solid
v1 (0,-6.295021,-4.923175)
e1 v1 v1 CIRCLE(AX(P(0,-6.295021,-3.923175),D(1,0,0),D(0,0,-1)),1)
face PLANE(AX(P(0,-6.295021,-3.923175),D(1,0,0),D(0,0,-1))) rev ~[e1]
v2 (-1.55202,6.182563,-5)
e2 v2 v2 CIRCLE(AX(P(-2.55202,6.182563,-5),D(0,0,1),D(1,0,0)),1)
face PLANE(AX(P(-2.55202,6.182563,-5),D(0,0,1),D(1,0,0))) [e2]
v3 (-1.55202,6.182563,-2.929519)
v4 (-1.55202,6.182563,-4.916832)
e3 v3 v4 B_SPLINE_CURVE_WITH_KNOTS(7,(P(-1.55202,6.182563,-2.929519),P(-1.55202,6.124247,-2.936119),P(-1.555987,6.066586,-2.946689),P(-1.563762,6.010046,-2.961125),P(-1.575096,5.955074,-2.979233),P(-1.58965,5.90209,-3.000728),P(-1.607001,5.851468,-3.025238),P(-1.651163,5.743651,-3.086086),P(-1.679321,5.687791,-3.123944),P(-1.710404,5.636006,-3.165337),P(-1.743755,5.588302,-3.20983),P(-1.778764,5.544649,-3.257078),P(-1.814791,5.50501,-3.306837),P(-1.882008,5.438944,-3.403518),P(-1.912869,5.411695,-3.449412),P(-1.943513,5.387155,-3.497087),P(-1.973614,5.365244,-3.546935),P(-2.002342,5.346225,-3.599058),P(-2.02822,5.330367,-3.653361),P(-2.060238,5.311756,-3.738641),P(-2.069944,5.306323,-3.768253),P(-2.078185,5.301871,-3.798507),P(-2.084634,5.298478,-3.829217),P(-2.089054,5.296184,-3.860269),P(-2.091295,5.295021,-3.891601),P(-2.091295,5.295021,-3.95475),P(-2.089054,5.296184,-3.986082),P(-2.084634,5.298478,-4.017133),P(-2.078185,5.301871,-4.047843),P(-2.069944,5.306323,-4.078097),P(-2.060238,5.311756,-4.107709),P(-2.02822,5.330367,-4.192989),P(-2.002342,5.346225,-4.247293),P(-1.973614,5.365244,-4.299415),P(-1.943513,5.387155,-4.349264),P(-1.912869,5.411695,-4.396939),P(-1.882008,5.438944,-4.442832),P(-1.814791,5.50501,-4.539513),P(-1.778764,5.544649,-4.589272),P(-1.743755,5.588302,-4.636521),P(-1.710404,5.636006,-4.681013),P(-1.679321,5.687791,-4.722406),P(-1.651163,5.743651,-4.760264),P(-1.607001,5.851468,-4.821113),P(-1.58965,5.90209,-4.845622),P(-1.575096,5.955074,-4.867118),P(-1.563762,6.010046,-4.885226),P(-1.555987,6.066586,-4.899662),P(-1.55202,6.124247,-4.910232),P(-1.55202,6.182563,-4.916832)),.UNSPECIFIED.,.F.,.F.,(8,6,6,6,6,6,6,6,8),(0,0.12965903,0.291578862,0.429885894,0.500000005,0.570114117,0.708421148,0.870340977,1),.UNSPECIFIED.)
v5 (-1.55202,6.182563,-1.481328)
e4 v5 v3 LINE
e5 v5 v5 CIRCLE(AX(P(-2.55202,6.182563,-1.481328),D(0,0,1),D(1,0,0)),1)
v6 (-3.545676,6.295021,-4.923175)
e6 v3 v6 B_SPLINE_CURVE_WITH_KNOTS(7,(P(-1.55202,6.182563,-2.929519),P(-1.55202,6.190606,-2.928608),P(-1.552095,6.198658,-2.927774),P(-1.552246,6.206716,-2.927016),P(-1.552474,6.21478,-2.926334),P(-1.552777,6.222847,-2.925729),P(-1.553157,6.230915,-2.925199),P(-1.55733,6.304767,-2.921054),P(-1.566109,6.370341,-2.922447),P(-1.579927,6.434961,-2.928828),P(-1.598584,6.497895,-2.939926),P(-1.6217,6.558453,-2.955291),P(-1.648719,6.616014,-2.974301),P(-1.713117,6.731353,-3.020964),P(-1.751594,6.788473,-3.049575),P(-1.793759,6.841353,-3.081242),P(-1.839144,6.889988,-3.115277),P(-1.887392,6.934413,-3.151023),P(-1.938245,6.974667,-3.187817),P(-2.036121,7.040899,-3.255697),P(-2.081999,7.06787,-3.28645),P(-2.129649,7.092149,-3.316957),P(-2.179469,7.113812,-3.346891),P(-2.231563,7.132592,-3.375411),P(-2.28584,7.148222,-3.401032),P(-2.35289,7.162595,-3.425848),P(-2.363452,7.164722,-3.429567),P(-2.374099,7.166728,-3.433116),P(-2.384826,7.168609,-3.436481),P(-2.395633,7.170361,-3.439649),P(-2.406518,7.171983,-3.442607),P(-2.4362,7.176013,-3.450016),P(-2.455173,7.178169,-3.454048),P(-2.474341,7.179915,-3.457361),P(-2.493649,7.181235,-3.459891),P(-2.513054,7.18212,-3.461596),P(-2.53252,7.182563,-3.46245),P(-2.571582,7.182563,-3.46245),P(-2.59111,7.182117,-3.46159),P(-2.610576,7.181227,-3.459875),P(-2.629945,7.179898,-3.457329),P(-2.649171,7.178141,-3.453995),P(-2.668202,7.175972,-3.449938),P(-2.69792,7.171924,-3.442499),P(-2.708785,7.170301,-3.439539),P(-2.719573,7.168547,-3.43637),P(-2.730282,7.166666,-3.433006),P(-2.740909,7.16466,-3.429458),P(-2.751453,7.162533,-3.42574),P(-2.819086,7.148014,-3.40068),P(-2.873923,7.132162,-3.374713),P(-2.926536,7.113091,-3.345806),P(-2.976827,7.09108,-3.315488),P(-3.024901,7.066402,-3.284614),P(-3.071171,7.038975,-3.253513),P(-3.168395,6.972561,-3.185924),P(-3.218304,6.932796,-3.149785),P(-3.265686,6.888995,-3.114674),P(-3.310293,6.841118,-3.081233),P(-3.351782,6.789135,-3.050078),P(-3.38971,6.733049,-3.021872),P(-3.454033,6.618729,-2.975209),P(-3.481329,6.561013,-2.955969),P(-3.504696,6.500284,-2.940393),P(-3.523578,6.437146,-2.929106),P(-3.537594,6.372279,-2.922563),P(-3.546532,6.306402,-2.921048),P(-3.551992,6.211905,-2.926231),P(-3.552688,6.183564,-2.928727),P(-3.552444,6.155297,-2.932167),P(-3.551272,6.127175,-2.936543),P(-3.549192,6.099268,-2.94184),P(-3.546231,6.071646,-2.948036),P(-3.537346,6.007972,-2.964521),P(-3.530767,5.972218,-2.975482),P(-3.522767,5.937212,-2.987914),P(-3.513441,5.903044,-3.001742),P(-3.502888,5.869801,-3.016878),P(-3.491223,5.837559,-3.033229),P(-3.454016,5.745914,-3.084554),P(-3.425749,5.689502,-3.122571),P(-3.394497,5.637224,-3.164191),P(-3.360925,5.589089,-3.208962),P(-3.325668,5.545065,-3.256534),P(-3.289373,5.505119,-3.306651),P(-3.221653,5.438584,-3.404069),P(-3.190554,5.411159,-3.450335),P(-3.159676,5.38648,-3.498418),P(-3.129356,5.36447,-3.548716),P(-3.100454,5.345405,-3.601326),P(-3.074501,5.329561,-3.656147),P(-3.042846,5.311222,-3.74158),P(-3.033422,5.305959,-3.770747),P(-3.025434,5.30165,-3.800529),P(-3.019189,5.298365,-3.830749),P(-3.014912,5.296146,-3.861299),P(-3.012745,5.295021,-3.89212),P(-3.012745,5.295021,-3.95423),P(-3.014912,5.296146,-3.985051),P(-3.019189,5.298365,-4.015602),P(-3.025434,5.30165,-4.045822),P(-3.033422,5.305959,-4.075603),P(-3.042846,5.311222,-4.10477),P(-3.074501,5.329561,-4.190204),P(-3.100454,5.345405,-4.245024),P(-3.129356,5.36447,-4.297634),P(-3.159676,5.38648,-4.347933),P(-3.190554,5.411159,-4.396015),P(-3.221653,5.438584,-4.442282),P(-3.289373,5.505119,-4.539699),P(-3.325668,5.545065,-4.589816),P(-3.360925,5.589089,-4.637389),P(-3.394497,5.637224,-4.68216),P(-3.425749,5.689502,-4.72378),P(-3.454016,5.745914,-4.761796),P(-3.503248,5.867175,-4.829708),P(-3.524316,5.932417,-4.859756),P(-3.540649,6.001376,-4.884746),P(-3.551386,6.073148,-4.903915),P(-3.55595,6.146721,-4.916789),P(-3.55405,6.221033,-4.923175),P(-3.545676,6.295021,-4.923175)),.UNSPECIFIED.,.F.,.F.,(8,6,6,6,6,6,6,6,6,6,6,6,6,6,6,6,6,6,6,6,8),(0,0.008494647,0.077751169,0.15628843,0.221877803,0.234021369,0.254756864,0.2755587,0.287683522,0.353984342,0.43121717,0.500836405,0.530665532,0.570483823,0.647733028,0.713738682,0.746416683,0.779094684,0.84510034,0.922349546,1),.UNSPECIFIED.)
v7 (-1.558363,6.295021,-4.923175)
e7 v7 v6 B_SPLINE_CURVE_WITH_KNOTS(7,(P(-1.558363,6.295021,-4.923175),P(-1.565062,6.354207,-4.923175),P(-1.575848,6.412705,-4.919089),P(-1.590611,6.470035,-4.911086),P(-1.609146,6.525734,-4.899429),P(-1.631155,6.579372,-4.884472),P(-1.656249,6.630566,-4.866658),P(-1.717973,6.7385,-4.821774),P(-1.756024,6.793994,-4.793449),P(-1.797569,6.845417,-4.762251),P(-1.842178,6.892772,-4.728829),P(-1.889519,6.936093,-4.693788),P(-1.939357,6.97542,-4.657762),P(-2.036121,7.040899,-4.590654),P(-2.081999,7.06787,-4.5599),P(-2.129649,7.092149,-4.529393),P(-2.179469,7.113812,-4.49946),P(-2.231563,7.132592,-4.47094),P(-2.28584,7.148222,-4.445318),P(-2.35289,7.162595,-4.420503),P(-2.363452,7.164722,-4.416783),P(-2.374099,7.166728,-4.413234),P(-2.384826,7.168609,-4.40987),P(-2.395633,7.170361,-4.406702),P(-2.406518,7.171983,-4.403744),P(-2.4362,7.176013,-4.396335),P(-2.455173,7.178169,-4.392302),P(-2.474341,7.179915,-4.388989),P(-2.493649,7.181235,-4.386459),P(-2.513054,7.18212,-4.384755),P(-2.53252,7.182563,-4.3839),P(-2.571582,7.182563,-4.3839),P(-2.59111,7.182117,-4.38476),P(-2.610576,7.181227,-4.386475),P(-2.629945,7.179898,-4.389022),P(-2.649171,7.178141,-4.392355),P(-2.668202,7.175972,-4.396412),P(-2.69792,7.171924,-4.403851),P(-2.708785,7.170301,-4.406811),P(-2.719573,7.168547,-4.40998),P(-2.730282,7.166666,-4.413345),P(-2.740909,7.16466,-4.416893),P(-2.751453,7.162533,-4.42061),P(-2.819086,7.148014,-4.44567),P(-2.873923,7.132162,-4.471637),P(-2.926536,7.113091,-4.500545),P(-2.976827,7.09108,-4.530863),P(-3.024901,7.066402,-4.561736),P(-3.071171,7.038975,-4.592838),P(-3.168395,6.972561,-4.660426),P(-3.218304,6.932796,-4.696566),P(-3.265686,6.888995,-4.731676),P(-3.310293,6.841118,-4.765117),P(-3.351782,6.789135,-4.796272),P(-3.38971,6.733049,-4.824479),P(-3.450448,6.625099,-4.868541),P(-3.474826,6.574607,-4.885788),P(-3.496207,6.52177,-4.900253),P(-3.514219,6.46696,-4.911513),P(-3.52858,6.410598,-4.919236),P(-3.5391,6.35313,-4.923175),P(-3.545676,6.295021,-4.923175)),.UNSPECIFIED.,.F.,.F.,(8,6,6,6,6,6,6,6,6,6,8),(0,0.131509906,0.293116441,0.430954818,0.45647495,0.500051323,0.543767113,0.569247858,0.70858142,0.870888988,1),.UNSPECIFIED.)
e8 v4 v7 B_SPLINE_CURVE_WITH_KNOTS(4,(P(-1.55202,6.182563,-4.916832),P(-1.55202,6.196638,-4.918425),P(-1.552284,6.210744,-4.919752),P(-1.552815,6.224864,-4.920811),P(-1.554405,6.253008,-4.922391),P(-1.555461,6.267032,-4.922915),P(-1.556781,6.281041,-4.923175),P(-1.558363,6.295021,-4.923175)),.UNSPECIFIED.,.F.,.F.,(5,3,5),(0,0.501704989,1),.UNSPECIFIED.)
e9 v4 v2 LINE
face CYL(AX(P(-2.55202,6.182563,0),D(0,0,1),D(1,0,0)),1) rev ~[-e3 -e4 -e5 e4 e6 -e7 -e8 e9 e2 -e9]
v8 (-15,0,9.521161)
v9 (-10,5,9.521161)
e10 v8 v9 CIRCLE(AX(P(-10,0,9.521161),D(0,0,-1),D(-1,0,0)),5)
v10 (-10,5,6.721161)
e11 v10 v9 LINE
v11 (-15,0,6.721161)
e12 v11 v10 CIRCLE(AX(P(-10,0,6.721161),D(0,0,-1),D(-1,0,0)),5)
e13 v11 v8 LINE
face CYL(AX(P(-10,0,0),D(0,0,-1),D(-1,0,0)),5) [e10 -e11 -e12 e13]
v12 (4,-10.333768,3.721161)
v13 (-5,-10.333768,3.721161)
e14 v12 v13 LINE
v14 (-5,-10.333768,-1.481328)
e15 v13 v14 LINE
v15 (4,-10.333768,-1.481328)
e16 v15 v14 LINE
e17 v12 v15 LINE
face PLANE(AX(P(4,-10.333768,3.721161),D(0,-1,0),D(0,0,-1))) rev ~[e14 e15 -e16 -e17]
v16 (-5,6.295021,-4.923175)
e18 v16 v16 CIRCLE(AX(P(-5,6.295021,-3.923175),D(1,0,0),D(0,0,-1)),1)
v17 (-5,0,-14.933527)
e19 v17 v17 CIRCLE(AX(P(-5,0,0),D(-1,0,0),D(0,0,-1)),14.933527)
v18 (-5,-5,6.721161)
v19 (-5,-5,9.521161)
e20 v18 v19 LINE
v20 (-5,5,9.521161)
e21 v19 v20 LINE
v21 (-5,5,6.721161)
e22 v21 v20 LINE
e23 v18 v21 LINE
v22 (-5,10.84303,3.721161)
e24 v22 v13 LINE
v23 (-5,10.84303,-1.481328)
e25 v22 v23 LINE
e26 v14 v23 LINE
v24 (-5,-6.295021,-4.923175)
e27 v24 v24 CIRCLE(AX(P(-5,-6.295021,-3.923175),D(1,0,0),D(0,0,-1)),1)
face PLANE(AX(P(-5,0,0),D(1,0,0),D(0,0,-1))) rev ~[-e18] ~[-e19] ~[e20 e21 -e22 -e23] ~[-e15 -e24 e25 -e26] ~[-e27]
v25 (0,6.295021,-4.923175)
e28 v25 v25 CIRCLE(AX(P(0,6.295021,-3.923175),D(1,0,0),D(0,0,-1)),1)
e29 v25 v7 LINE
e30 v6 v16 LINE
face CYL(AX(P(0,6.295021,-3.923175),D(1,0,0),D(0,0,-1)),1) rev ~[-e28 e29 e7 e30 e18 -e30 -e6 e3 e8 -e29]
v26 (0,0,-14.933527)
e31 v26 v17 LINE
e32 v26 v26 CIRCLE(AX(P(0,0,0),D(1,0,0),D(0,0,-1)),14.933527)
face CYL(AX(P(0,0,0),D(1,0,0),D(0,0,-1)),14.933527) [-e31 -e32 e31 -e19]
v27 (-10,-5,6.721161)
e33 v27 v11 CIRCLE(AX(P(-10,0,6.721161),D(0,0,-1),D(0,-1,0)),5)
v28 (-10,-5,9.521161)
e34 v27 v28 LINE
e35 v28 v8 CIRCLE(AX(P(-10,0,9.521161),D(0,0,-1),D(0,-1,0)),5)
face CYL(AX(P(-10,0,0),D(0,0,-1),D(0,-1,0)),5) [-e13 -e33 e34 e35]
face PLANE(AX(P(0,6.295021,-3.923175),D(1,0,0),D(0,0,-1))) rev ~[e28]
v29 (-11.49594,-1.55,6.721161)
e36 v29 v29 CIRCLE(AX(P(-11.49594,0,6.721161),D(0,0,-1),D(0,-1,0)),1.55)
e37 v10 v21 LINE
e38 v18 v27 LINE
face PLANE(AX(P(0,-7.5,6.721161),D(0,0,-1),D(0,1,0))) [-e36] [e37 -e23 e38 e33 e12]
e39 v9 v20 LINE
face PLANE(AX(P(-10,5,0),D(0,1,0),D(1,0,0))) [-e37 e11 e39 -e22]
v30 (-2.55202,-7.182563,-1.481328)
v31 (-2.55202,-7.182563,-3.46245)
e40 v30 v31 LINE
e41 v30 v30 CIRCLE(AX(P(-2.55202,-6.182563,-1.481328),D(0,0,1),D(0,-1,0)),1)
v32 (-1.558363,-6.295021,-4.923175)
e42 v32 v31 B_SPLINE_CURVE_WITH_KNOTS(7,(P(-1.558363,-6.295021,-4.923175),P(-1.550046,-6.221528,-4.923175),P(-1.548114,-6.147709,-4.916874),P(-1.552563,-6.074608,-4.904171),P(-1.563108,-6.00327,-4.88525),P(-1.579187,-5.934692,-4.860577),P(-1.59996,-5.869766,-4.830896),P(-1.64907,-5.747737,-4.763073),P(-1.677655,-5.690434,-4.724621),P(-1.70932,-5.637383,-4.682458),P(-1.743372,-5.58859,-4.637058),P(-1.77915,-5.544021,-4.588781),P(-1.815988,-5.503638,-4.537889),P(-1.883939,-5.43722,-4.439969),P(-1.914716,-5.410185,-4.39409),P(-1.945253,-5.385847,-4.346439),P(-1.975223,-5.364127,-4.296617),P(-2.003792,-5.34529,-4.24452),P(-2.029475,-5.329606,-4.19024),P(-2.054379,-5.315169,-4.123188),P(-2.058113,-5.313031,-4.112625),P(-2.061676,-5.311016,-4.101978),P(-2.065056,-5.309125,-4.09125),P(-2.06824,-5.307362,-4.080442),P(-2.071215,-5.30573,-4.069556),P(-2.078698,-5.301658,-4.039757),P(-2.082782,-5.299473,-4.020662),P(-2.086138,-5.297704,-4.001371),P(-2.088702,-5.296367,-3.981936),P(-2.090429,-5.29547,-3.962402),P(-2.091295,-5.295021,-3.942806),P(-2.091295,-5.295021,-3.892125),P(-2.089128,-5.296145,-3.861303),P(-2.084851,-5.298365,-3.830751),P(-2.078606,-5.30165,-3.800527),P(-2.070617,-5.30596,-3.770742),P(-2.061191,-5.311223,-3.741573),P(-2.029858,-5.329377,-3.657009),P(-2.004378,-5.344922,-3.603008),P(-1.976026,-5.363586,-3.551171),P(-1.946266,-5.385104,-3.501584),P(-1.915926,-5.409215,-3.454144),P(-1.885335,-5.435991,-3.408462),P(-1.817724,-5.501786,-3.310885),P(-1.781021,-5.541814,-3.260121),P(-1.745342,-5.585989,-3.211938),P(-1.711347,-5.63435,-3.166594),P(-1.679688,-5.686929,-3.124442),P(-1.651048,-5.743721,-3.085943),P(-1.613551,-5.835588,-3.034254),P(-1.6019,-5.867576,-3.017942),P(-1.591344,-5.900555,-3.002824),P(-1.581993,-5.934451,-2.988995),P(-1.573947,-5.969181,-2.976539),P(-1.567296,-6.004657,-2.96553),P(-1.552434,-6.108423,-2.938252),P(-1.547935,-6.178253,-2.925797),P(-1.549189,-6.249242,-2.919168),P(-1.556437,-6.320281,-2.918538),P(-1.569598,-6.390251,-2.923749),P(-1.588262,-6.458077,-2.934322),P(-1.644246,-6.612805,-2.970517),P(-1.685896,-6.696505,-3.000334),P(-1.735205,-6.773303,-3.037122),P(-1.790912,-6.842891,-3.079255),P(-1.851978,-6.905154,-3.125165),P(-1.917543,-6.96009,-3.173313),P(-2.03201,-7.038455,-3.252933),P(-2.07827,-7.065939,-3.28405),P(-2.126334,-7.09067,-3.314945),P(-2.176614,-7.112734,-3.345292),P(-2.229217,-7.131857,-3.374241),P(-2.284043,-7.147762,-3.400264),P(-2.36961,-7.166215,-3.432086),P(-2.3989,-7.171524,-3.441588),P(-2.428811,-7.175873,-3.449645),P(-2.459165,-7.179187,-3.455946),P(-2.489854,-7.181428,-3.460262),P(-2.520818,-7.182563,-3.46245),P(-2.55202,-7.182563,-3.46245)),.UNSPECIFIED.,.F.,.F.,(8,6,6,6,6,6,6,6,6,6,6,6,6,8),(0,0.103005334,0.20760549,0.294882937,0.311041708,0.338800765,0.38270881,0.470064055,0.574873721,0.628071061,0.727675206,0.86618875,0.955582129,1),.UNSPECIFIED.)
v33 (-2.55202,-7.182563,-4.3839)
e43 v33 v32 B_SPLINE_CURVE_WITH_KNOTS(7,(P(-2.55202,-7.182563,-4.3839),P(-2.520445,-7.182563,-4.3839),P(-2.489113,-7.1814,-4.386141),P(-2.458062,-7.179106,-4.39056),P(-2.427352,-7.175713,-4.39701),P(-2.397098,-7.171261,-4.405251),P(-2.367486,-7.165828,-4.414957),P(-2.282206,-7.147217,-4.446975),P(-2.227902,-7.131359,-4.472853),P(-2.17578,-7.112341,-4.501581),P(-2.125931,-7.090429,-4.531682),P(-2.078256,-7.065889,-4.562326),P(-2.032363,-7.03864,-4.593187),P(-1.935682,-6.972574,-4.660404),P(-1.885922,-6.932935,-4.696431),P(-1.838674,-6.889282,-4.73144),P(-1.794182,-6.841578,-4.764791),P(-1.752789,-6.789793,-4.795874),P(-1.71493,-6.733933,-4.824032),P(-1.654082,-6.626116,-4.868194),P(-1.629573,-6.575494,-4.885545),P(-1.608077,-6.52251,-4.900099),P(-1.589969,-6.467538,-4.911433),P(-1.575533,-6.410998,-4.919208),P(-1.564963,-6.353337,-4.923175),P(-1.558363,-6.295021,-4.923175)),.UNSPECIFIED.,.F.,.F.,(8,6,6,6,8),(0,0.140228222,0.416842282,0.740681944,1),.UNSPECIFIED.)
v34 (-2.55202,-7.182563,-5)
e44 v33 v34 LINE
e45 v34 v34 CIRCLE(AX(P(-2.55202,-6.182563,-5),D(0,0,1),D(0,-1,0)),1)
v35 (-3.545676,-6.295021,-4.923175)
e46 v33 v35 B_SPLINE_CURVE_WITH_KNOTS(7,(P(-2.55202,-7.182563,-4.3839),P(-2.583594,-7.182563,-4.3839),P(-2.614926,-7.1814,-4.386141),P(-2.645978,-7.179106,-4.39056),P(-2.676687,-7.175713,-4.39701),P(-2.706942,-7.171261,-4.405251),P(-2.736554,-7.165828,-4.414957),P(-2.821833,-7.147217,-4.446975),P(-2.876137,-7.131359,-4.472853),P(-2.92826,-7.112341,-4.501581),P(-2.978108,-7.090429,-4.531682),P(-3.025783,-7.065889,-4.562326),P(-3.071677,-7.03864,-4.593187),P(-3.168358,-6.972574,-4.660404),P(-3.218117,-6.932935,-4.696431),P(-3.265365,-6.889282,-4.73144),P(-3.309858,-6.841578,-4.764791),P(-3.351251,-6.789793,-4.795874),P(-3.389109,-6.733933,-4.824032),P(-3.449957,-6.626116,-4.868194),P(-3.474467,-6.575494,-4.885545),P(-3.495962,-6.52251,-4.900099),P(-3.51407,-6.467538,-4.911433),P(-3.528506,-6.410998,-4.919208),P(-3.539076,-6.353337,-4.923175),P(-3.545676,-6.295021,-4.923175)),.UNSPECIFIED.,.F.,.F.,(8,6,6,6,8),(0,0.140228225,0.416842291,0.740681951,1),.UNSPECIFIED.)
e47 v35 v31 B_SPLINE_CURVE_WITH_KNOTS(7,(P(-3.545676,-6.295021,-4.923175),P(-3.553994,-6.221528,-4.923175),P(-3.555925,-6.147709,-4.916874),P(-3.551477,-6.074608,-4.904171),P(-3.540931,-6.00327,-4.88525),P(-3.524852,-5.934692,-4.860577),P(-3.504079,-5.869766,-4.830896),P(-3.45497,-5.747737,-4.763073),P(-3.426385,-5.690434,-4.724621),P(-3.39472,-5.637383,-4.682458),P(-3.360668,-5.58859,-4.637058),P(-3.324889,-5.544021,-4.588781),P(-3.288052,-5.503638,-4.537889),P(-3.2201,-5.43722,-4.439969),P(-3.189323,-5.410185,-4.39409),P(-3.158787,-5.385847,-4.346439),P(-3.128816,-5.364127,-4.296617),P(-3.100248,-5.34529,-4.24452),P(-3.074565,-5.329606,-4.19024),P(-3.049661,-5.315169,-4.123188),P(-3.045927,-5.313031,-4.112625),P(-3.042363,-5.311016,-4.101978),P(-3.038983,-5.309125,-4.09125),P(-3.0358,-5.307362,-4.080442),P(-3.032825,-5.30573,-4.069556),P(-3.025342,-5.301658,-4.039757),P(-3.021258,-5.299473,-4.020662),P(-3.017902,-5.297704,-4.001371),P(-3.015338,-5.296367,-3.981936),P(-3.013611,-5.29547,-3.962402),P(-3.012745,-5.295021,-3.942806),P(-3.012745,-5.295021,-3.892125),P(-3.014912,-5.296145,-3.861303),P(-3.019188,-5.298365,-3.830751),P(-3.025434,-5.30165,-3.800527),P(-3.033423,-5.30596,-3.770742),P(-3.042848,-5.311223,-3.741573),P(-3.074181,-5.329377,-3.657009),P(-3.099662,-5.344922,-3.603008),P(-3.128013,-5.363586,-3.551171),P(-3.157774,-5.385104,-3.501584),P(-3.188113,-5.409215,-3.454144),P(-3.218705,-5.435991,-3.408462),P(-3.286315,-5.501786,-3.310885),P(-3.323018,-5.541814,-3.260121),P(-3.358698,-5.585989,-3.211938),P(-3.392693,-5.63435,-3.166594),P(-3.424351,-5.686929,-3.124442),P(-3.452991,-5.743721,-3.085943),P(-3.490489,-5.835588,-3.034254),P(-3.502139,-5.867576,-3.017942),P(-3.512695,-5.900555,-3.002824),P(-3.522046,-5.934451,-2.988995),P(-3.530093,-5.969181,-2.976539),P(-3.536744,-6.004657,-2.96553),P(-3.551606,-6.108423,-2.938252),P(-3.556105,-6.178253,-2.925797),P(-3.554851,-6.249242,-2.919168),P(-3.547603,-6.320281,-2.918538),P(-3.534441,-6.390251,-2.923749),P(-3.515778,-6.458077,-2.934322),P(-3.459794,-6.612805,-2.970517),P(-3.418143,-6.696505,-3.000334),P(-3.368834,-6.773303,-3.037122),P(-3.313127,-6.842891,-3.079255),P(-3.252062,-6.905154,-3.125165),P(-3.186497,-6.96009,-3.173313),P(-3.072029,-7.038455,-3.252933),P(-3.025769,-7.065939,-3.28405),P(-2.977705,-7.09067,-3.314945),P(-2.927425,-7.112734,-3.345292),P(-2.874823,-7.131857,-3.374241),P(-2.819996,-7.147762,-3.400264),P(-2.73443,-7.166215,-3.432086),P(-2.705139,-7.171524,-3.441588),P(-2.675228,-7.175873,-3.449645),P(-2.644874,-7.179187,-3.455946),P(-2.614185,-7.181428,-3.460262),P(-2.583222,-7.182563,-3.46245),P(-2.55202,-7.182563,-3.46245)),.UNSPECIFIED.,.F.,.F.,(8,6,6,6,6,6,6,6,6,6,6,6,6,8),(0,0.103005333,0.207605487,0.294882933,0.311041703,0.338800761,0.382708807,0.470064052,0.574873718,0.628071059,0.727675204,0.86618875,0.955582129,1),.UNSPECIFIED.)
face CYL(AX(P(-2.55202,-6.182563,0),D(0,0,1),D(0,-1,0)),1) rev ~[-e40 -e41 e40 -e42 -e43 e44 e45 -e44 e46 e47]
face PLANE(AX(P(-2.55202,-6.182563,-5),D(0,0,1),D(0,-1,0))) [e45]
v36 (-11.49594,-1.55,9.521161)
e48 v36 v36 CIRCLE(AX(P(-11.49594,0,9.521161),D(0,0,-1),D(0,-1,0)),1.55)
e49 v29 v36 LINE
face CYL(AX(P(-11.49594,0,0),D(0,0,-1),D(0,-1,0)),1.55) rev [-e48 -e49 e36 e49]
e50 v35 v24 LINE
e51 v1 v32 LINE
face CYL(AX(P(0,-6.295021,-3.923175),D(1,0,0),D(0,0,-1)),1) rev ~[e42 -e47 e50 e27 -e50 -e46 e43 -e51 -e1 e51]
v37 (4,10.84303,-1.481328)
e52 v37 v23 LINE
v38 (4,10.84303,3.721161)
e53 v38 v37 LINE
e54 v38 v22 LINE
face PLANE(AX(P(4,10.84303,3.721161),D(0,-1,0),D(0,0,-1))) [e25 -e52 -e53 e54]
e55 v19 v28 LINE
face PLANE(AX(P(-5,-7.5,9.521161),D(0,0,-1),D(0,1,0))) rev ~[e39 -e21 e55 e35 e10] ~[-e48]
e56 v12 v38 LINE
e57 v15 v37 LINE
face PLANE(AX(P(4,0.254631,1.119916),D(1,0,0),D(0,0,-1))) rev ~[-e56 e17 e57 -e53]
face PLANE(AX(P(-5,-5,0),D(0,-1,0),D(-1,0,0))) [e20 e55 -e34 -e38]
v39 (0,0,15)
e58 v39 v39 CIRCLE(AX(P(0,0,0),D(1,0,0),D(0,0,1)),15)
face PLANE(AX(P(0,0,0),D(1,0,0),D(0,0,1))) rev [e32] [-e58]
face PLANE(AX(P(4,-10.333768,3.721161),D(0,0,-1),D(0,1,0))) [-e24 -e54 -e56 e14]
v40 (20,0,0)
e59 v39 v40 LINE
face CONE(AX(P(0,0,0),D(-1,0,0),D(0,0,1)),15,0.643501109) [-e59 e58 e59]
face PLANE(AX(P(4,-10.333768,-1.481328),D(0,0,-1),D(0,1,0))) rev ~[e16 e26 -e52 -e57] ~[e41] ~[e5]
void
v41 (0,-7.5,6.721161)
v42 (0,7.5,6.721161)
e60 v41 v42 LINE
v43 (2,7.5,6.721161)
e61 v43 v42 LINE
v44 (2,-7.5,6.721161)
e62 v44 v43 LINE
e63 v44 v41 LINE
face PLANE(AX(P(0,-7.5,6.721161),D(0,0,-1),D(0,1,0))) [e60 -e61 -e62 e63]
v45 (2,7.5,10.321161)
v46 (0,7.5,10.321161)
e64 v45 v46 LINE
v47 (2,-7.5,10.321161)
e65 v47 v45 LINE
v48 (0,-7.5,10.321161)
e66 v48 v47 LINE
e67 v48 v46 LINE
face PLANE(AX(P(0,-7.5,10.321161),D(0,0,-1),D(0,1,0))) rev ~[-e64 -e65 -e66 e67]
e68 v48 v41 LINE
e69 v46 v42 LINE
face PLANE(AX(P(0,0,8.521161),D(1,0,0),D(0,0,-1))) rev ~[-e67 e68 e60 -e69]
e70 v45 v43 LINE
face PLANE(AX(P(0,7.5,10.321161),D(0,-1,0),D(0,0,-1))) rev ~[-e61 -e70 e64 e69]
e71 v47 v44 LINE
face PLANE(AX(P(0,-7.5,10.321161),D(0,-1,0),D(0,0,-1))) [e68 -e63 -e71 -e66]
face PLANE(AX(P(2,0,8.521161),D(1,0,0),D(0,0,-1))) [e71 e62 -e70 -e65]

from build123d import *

# Parameters (mm, degrees)
SKETCH3_R                = 14.933526733
BOSS_EXTRUDE2_DEPTH      = 5
SKETCH4_W                = 3.6
SKETCH4_H                = 15
CUT_EXTRUDE1_DEPTH       = 2
CUT_EXTRUDE1_DEPTH_BACK  = 30.620731291
CUT_EXTRUDE4_START       = 4
SKETCH6_W                = 5.202489895
SKETCH6_H                = 21.176797573
CUT_EXTRUDE4_DEPTH       = 34.154759474
SKETCH8_R                = 1
CUT_EXTRUDE6_DEPTH       = 5
SKETCH9_R                = 1
CUT_EXTRUDE9_DEPTH       = 5
SKETCH10_W               = 3.6
SKETCH10_H               = 15
BOSS_EXTRUDE3_DEPTH      = 15
CUT_EXTRUDE10_START      = -5
SKETCH11_W               = 0.8
SKETCH11_H               = 15
CUT_EXTRUDE10_DEPTH      = 12
SKETCH12_R               = 1.55
CUT_EXTRUDE11_DEPTH      = 30.154759474
CUT_EXTRUDE11_DEPTH_BACK = 30.154759474


with BuildPart() as part:
    # Sketch1 → Revolve2 (revolve)
    with BuildSketch(Plane.XY, mode=Mode.PRIVATE) as revolve2_sk:
        Polygon((0, 0), (0, 15), (20, 0), align=None)
    revolve(revolve2_sk.sketch.rotate(Axis((-31.294130364, 0, 0), (1, 0, 0)), 90), axis=Axis((-31.294130364, 0, 0), (1, 0, 0)))

    # Sketch3 → Boss-Extrude2 (add)
    with BuildSketch(Plane(origin=(0, 0, 0), x_dir=(0, 0, -1), z_dir=(1, 0, 0))):
        Circle(SKETCH3_R)
    extrude(amount=-BOSS_EXTRUDE2_DEPTH)

    # Sketch4 → Cut-Extrude1 (cut, two sides)
    with BuildSketch(Plane(origin=(0, 0, -0.886715275), x_dir=(0, 0, -1), z_dir=(1, 0, 0))) as cut_extrude1_sk:
        with Locations((-9.407876673, 0)):
            Rectangle(SKETCH4_W, SKETCH4_H)
    extrude(amount=CUT_EXTRUDE1_DEPTH, mode=Mode.SUBTRACT)
    extrude(cut_extrude1_sk.sketch, amount=-CUT_EXTRUDE1_DEPTH_BACK, mode=Mode.SUBTRACT)

    # Sketch6 → Cut-Extrude4 (cut, through all)
    with BuildSketch(Plane(origin=(0, 0, 0), x_dir=(0, 0, -1), z_dir=(1, 0, 0)).offset(CUT_EXTRUDE4_START)):
        with Locations((-1.119916451, 0.254630833)):
            Rectangle(SKETCH6_W, SKETCH6_H)
    extrude(amount=-CUT_EXTRUDE4_DEPTH, mode=Mode.SUBTRACT)

    # Sketch8 → Cut-Extrude6 (cut)
    with BuildSketch(Plane.XY):
        with Locations((-2.552019749, 6.182563449)):
            Circle(SKETCH8_R)
        with Locations(Location((-2.552019749, -6.182563449, 0), (0, 0, 270))):
            Circle(SKETCH8_R)
    extrude(amount=-CUT_EXTRUDE6_DEPTH, mode=Mode.SUBTRACT)

    # Sketch9 → Cut-Extrude9 (cut)
    with BuildSketch(Plane(origin=(0, 0, 0), x_dir=(0, 0, -1), z_dir=(1, 0, 0))):
        with Locations((3.923175217, -6.295020596)):
            Circle(SKETCH9_R)
        with Locations((3.923175217, 6.295020596)):
            Circle(SKETCH9_R)
    extrude(amount=-CUT_EXTRUDE9_DEPTH, mode=Mode.SUBTRACT)

    # Sketch10 → Boss-Extrude3 (add)
    with BuildSketch(Plane(origin=(0, 0, 0), x_dir=(0, 0, -1), z_dir=(1, 0, 0))):
        with Locations((-8.521161398, 0)):
            Rectangle(SKETCH10_W, SKETCH10_H)
    extrude(amount=-BOSS_EXTRUDE3_DEPTH)

    # Sketch11 → Cut-Extrude10 (cut)
    with BuildSketch(Plane(origin=(0, 0, 0), x_dir=(0, 0, -1), z_dir=(1, 0, 0)).offset(CUT_EXTRUDE10_START)):
        with Locations((-9.921161398, 0)):
            Rectangle(SKETCH11_W, SKETCH11_H)
    extrude(amount=-CUT_EXTRUDE10_DEPTH, mode=Mode.SUBTRACT)

    # Sketch12 → Cut-Extrude11 (cut, two sides)
    with BuildSketch(Plane.XY) as cut_extrude11_sk:
        with BuildLine():
            ThreePointArc((-15, 0), (-13.535533906, 3.535533906), (-10, 5))
            Line((-10, 5), (-5, 5))
            Line((-5, 5), (-5, 9.202194168))
            Line((-5, 9.202194168), (-18.010498555, 9.996270698))
            Line((-18.010498555, 9.996270698), (-16.284245229, -10.269943354))
            Line((-16.284245229, -10.269943354), (-5, -9.308764033))
            Line((-5, -9.308764033), (-5, -5))
            Line((-5, -5), (-10, -5))
            ThreePointArc((-10, -5), (-13.535533906, -3.535533906), (-15, 0))
        make_face()
        with Locations(Location((-11.495940447, 0, 0), (0, 0, 270))):
            Circle(SKETCH12_R)
    extrude(amount=CUT_EXTRUDE11_DEPTH, mode=Mode.SUBTRACT)
    extrude(cut_extrude11_sk.sketch, amount=-CUT_EXTRUDE11_DEPTH_BACK, mode=Mode.SUBTRACT)


solid = part.part
